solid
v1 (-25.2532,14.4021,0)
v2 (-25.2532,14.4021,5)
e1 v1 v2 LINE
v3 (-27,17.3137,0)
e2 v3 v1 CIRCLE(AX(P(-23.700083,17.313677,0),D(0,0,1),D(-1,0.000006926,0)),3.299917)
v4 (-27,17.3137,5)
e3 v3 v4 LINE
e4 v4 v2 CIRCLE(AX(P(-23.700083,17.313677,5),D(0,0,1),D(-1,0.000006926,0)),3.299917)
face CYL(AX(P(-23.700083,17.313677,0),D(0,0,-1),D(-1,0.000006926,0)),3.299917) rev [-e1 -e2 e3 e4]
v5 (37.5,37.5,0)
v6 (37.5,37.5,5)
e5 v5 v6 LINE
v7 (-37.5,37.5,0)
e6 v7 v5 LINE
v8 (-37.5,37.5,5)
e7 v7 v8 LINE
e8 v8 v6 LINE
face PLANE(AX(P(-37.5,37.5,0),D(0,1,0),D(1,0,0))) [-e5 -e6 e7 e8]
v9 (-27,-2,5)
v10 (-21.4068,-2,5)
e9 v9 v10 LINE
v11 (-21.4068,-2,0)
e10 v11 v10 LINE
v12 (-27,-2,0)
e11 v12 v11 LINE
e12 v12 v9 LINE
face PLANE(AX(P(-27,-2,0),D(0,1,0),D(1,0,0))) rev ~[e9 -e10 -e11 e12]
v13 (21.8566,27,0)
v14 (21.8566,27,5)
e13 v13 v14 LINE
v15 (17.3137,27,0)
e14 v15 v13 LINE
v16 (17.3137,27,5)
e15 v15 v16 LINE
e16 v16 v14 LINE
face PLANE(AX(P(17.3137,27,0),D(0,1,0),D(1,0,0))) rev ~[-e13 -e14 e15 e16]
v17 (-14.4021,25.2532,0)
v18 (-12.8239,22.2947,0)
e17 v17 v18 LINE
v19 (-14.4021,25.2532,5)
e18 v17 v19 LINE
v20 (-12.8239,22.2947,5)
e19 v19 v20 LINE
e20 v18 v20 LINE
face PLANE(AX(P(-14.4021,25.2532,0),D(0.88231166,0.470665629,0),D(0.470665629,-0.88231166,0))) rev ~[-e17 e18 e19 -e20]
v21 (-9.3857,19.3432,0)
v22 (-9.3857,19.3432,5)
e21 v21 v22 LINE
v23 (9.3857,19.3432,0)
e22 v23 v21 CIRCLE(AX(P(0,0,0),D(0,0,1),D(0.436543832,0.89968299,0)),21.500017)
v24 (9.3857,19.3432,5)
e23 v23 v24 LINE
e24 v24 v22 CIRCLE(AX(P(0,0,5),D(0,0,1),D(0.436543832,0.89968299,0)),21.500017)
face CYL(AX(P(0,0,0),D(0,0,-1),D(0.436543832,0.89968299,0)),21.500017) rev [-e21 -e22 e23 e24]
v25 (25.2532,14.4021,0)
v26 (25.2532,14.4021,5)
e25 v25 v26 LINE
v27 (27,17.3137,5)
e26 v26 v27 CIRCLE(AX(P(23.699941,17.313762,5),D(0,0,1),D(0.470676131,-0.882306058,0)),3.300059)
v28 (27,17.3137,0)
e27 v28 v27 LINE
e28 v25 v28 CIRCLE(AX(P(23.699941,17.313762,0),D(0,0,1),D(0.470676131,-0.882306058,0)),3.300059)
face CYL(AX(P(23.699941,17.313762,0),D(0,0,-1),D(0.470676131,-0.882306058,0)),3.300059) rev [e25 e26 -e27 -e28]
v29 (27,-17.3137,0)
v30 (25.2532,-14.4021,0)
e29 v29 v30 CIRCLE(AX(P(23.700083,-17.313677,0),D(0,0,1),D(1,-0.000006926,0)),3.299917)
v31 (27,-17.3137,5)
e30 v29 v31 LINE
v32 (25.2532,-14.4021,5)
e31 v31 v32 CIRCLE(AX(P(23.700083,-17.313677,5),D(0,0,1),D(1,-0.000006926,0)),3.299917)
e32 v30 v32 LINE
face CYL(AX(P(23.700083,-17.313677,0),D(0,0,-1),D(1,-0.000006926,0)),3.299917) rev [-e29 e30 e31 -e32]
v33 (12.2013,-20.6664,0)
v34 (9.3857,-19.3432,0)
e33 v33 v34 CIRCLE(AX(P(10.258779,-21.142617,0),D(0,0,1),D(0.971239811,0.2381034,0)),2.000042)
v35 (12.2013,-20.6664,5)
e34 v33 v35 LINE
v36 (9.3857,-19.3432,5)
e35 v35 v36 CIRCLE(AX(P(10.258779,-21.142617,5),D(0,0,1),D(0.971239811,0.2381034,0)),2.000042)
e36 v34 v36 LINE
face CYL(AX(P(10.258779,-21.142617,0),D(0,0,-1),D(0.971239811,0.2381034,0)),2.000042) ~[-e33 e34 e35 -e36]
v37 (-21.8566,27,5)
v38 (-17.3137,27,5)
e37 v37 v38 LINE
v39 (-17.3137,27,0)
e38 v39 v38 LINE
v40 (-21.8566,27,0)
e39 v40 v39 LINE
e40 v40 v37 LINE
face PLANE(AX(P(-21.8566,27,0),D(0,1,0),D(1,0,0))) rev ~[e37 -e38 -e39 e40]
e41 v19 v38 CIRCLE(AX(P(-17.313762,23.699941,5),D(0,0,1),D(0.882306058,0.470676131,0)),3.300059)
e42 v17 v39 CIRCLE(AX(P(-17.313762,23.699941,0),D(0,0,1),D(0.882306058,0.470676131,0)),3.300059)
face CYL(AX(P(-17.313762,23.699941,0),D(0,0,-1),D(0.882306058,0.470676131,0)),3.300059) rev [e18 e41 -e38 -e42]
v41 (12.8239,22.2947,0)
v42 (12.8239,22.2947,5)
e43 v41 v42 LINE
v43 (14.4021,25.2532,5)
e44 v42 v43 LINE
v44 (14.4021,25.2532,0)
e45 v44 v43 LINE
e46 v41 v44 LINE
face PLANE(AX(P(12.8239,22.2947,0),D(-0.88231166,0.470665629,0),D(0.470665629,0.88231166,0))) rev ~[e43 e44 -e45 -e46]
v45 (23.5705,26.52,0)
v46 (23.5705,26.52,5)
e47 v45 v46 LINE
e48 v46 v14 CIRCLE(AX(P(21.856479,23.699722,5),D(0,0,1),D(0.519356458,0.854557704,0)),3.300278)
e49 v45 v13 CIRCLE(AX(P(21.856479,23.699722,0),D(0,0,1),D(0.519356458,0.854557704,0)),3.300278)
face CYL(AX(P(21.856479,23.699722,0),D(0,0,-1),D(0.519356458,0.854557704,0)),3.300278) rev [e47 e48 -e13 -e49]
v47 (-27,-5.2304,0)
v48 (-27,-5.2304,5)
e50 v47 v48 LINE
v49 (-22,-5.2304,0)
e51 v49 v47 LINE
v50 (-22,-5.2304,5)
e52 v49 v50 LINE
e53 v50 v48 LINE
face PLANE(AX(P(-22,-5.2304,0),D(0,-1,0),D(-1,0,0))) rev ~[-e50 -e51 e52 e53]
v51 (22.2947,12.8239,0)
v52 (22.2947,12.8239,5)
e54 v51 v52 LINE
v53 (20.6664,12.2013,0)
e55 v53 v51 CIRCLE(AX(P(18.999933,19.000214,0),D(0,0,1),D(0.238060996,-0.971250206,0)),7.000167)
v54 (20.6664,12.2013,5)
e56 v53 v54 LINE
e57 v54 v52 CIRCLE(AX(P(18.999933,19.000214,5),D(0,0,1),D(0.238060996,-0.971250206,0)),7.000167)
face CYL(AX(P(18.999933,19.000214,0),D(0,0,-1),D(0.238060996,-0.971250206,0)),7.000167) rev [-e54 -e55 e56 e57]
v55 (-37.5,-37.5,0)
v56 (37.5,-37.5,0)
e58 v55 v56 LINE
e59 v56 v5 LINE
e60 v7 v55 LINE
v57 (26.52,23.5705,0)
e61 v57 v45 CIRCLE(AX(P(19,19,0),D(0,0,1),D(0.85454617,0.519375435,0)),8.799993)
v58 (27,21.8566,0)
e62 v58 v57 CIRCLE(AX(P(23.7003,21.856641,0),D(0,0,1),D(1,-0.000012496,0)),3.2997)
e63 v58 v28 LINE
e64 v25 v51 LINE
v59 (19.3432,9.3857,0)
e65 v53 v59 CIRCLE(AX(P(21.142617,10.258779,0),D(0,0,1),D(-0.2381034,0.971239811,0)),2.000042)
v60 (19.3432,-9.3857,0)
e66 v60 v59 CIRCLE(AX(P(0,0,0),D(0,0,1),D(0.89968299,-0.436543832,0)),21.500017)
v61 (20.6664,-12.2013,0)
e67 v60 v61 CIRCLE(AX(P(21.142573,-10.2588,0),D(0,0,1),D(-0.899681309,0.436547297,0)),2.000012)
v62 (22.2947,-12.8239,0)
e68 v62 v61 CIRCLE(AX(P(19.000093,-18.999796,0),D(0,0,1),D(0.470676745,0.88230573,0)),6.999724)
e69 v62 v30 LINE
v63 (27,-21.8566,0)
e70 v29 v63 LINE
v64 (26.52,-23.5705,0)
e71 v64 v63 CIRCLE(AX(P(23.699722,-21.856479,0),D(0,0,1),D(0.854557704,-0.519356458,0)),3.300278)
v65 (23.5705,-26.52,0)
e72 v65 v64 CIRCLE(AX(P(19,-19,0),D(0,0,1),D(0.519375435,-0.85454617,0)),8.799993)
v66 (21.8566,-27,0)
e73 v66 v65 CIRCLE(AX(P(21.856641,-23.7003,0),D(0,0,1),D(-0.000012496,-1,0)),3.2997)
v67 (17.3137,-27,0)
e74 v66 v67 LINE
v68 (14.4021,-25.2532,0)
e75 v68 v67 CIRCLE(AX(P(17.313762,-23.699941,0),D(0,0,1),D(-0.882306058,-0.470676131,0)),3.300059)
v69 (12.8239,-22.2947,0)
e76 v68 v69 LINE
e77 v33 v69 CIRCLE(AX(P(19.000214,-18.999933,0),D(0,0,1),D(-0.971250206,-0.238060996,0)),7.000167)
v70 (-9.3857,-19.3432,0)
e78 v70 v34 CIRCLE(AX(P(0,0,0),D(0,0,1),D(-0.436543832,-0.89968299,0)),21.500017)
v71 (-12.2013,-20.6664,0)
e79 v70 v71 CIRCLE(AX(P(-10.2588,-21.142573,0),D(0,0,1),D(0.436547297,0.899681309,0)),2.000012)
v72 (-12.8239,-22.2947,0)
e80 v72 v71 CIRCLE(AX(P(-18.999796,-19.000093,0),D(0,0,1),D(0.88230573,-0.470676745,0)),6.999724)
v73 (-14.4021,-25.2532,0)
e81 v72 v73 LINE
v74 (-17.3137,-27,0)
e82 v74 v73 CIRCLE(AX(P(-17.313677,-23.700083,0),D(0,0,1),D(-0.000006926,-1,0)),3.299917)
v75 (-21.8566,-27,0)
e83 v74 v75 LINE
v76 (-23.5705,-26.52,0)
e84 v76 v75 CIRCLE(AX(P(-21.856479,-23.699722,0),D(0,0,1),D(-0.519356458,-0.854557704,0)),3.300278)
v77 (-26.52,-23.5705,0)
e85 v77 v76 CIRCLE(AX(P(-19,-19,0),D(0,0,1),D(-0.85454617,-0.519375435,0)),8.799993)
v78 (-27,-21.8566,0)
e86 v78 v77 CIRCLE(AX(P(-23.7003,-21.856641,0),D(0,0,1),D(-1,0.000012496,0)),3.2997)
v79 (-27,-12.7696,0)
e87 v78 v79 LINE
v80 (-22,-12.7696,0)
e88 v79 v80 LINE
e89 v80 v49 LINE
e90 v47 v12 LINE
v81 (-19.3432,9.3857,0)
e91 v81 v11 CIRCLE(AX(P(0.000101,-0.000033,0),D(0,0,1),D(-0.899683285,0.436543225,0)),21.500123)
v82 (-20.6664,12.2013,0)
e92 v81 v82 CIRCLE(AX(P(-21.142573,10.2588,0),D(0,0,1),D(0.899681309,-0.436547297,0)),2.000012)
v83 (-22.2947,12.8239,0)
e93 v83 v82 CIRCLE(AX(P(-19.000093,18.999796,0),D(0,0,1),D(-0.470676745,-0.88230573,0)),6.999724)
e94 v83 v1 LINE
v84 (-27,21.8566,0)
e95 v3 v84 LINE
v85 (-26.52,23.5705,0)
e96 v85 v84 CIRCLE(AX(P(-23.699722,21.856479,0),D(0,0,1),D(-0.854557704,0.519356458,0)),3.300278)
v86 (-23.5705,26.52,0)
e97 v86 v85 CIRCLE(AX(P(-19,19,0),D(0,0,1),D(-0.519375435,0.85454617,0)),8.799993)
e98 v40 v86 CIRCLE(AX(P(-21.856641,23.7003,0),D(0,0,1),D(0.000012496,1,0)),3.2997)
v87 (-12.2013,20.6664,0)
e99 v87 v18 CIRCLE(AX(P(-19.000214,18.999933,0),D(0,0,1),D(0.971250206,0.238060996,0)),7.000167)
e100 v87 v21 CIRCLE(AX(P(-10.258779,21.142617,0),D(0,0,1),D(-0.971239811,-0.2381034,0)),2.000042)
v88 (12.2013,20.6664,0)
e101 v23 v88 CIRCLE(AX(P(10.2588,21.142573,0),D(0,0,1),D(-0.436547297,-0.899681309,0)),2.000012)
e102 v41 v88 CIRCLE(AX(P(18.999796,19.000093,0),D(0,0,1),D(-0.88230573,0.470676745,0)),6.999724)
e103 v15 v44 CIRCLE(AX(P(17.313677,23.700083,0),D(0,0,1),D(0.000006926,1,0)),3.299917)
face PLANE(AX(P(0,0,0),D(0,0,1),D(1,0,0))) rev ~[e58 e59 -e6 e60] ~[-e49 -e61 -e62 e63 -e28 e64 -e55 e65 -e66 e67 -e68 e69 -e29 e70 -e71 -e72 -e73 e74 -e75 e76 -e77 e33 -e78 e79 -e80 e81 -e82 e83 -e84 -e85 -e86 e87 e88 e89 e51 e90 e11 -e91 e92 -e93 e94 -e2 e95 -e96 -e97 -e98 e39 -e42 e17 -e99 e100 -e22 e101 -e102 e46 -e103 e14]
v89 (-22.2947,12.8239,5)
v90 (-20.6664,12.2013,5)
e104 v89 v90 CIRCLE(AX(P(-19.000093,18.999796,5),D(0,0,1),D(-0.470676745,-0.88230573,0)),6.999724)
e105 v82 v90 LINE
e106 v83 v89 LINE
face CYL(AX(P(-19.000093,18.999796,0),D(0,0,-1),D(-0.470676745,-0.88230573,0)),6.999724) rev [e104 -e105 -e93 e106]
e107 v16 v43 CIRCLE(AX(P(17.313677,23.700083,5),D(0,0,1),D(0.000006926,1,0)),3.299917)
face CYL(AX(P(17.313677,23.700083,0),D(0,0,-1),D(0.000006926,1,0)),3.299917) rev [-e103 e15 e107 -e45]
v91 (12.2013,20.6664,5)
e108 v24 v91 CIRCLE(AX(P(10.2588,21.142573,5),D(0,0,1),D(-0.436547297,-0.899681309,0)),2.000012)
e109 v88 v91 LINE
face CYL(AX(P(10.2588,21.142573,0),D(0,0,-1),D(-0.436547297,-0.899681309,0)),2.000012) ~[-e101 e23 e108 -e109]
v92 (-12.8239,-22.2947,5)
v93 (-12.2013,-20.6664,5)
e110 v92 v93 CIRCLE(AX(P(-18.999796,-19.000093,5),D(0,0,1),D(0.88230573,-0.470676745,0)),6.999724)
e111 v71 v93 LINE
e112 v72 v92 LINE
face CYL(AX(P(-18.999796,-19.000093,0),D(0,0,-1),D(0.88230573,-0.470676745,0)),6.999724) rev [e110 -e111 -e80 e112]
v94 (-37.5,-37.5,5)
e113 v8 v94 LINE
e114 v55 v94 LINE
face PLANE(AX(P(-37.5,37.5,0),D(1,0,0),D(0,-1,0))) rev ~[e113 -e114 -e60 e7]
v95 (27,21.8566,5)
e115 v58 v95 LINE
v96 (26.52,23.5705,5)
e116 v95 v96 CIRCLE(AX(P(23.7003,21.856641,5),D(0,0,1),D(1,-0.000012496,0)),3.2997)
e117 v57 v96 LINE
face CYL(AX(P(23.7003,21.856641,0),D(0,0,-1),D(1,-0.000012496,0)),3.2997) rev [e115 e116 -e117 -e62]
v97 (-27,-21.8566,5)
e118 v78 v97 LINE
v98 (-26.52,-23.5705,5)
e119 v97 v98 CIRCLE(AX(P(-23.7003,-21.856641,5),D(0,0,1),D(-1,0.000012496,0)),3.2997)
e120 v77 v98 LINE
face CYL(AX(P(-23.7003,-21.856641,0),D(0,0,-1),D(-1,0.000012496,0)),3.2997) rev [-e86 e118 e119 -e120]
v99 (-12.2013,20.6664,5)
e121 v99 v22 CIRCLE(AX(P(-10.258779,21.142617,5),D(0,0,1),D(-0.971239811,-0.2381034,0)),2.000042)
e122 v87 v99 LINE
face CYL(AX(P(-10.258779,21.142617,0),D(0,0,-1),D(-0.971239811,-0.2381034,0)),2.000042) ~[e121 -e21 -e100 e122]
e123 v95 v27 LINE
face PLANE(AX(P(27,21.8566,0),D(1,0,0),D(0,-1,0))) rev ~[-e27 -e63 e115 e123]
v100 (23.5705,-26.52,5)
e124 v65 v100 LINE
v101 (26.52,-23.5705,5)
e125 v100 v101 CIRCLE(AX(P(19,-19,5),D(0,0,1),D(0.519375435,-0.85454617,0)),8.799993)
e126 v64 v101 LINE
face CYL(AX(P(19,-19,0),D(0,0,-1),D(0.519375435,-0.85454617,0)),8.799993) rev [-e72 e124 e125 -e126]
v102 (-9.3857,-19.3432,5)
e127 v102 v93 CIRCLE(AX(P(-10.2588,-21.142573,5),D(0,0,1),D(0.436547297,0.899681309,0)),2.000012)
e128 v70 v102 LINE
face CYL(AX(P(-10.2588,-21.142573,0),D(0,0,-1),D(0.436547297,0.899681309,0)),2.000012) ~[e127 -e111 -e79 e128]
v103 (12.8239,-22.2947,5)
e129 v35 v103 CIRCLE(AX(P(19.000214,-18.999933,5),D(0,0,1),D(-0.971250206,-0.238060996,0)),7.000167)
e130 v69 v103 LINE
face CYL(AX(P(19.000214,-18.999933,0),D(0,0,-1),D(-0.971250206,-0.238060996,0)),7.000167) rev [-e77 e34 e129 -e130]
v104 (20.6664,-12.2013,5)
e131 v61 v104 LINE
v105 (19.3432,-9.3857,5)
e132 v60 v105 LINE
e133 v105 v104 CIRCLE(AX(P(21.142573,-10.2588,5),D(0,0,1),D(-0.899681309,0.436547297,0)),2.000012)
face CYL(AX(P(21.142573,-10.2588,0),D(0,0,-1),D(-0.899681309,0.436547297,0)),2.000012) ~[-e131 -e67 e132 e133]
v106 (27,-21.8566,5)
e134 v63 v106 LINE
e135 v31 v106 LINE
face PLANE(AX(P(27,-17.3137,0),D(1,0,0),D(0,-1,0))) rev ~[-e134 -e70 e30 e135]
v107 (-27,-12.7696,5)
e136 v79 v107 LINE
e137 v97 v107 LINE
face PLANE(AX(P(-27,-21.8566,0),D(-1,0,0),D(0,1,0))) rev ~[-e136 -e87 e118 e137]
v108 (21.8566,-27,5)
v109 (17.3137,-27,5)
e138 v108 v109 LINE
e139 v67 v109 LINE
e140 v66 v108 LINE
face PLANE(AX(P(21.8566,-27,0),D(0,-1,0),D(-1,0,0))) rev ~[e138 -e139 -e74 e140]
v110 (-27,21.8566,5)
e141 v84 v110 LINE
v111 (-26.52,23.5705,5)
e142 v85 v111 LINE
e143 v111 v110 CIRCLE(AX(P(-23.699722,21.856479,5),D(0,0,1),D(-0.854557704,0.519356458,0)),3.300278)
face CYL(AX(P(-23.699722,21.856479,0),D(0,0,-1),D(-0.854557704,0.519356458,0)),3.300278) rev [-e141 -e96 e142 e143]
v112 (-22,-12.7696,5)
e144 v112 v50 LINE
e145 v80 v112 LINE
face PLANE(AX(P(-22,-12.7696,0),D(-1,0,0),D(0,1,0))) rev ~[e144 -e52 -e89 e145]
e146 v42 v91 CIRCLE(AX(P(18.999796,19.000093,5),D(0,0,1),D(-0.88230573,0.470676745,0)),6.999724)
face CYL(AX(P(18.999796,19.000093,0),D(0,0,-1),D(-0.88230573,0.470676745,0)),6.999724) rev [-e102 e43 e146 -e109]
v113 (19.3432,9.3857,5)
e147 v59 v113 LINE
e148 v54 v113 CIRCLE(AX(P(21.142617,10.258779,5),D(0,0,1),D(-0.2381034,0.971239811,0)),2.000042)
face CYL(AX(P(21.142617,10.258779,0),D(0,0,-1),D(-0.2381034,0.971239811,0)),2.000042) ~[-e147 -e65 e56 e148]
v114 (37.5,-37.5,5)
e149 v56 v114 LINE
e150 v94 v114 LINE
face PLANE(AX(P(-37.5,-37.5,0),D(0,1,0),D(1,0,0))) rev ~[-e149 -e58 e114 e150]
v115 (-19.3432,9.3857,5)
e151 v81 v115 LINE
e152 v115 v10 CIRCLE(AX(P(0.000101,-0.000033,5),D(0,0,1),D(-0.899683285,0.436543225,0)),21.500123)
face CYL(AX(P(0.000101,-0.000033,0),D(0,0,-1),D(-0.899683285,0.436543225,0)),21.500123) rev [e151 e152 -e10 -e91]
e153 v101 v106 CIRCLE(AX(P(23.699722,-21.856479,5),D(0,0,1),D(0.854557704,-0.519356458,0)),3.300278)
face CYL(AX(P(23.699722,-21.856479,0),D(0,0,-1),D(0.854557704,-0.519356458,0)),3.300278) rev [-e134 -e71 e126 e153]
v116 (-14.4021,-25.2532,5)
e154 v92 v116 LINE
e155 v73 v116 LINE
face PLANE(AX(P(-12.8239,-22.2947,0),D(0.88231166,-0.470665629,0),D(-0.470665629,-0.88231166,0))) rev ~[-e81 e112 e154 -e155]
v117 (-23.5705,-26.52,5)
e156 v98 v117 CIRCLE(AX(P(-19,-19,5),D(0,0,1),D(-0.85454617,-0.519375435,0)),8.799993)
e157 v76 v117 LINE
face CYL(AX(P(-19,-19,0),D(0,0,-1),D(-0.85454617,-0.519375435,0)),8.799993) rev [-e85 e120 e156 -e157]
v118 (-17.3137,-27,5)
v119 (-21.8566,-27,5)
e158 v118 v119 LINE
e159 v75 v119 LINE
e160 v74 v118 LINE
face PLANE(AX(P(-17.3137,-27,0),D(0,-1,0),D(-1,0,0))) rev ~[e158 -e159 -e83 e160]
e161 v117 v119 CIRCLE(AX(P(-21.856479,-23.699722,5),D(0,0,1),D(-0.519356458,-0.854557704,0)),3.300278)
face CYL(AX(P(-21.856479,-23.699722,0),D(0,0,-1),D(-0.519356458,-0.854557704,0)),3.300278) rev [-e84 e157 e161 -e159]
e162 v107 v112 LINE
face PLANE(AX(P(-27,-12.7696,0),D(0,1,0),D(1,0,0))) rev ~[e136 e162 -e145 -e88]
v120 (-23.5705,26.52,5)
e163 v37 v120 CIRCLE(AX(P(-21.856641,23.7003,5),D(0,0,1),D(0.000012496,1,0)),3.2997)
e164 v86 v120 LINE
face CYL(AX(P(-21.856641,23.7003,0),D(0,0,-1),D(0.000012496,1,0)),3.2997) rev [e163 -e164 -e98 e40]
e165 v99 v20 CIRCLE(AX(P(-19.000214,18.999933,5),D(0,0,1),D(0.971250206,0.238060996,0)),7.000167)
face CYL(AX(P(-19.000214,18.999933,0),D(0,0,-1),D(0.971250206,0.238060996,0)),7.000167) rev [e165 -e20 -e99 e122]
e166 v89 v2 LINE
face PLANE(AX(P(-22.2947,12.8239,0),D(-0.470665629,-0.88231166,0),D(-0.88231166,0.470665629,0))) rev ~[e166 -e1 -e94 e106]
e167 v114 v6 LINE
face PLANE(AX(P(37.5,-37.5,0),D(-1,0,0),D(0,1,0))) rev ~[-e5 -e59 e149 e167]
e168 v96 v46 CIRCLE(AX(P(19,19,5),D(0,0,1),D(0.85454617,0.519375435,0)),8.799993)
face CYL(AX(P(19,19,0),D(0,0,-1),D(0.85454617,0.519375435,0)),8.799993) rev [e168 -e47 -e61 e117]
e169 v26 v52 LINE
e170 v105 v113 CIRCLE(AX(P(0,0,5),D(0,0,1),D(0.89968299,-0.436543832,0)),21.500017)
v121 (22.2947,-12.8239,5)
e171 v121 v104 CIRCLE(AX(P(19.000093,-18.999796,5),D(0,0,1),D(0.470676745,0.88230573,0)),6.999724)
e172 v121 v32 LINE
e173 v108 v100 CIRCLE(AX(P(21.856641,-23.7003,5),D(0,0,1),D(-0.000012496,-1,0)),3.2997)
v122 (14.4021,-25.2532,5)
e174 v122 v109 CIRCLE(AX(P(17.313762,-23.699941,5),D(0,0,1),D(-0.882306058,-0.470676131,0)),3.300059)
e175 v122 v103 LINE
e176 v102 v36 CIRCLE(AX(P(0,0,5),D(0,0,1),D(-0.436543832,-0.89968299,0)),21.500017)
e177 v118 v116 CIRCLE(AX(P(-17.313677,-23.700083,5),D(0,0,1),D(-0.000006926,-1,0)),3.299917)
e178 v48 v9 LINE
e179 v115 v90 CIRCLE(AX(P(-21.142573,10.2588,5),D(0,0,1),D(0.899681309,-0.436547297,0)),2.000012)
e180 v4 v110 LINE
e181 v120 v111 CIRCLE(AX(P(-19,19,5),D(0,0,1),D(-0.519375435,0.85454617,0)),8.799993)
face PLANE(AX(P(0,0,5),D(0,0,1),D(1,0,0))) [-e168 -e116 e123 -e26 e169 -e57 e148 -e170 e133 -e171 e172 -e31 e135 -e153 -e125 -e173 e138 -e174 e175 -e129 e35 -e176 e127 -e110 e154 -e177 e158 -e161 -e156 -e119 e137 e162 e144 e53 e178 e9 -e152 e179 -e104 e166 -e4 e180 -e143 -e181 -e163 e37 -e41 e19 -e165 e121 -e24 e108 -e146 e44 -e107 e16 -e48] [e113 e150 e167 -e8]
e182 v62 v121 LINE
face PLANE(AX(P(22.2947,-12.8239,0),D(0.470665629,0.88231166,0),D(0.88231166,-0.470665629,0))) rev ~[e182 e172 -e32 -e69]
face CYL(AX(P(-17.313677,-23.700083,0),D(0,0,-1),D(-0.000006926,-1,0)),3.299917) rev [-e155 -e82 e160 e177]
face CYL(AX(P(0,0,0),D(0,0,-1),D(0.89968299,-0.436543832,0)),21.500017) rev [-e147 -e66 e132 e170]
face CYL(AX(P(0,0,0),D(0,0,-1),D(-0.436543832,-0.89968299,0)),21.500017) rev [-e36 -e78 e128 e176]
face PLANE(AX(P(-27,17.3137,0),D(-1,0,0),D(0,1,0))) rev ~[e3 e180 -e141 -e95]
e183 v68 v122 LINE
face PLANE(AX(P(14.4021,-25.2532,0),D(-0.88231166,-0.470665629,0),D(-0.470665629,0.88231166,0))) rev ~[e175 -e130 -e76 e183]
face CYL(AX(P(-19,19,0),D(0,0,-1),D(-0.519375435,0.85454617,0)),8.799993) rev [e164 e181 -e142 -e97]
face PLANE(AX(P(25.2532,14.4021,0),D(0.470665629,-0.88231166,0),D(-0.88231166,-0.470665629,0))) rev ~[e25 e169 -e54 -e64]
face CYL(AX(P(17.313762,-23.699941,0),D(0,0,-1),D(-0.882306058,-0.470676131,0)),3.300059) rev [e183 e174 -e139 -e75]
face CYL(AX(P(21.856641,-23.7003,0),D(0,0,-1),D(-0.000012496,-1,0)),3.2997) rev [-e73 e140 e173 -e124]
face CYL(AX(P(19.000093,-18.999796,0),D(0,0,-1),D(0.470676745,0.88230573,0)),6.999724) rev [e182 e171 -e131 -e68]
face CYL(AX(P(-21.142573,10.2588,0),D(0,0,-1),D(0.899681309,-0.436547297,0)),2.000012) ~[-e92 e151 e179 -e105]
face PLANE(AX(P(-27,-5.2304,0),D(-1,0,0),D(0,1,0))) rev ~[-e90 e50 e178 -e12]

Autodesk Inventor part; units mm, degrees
ref_plane "YZ Plane" through (0, 0, 0) normal (1, 0, 0) x (0, 1, 0)
ref_plane "XZ Plane" through (0, 0, 0) normal (0, 1, 0) x (-1, 0, 0)
ref_plane "XY Plane" through (0, 0, 0) normal (0, 0, 1) x (1, 0, 0)
ref_plane "Work Plane1" through (0, 0, 0) normal (0, 0, 1) x (1, 0, 0)
sketch "Sketch1" plane through (0, 0, 0) normal (0, 0, 1) x (1, 0, 0)
  circle A0 centre (0, 0) radius 8
  arc A1 (-21.8566, 27) -> (-23.5705, 26.52) centre (-21.8566, 23.7) ccw
  line L0 (-21.8566, 27) -> (-17.3137, 27)
  arc A2 (-14.4021, 25.2532) -> (-17.3137, 27) centre (-17.3137, 23.7) ccw
  line L1 (-14.4021, 25.2532) -> (-12.8239, 22.2947)
  arc A3 (-12.2013, 20.6664) -> (-12.8239, 22.2947) centre (-19, 19) ccw
  arc A4 (-12.2013, 20.6664) -> (-9.3857, 19.3432) centre (-10.2588, 21.1426) ccw
  arc A5 (9.3857, 19.3432) -> (-9.3857, 19.3432) centre (0, 0) ccw
  arc A6 (9.3857, 19.3432) -> (12.2013, 20.6664) centre (10.2588, 21.1426) ccw
  arc A7 (12.8239, 22.2947) -> (12.2013, 20.6664) centre (19, 19) ccw
  line L2 (12.8239, 22.2947) -> (14.4021, 25.2532)
  arc A8 (17.3137, 27) -> (14.4021, 25.2532) centre (17.3137, 23.7) ccw
  line L3 (17.3137, 27) -> (21.8566, 27)
  arc A9 (23.5705, 26.52) -> (21.8566, 27) centre (21.8566, 23.7) ccw
  arc A10 (26.52, 23.5705) -> (23.5705, 26.52) centre (19, 19) ccw
  arc A11 (27, 21.8566) -> (26.52, 23.5705) centre (23.7, 21.8566) ccw
  line L4 (27, 21.8566) -> (27, 17.3137)
  arc A12 (25.2532, 14.4021) -> (27, 17.3137) centre (23.7, 17.3137) ccw
  line L5 (25.2532, 14.4021) -> (22.2947, 12.8239)
  arc A13 (20.6664, 12.2013) -> (22.2947, 12.8239) centre (19, 19) ccw
  arc A14 (20.6664, 12.2013) -> (19.3432, 9.3857) centre (21.1426, 10.2588) ccw
  arc A15 (19.3432, -9.3857) -> (19.3432, 9.3857) centre (0, 0) ccw
  arc A16 (19.3432, -9.3857) -> (20.6664, -12.2013) centre (21.1426, -10.2588) ccw
  arc A17 (22.2947, -12.8239) -> (20.6664, -12.2013) centre (19, -19) ccw
  line L6 (22.2947, -12.8239) -> (25.2532, -14.4021)
  arc A18 (27, -17.3137) -> (25.2532, -14.4021) centre (23.7, -17.3137) ccw
  line L7 (27, -17.3137) -> (27, -21.8566)
  arc A19 (26.52, -23.5705) -> (27, -21.8566) centre (23.7, -21.8566) ccw
  arc A20 (23.5705, -26.52) -> (26.52, -23.5705) centre (19, -19) ccw
  arc A21 (21.8566, -27) -> (23.5705, -26.52) centre (21.8566, -23.7) ccw
  line L8 (21.8566, -27) -> (17.3137, -27)
  arc A22 (14.4021, -25.2532) -> (17.3137, -27) centre (17.3137, -23.7) ccw
  line L9 (14.4021, -25.2532) -> (12.8239, -22.2947)
  arc A23 (12.2013, -20.6664) -> (12.8239, -22.2947) centre (19, -19) ccw
  arc A24 (12.2013, -20.6664) -> (9.3857, -19.3432) centre (10.2588, -21.1426) ccw
  arc A25 (-9.3857, -19.3432) -> (9.3857, -19.3432) centre (0, 0) ccw
  arc A26 (-9.3857, -19.3432) -> (-12.2013, -20.6664) centre (-10.2588, -21.1426) ccw
  arc A27 (-12.8239, -22.2947) -> (-12.2013, -20.6664) centre (-19, -19) ccw
  line L10 (-12.8239, -22.2947) -> (-14.4021, -25.2532)
  arc A28 (-17.3137, -27) -> (-14.4021, -25.2532) centre (-17.3137, -23.7) ccw
  line L11 (-17.3137, -27) -> (-21.8566, -27)
  arc A29 (-23.5705, -26.52) -> (-21.8566, -27) centre (-21.8566, -23.7) ccw
  arc A30 (-26.52, -23.5705) -> (-23.5705, -26.52) centre (-19, -19) ccw
  arc A31 (-27, -21.8566) -> (-26.52, -23.5705) centre (-23.7, -21.8566) ccw
  line L12 (-27, -21.8566) -> (-27, -12.7696)
  line L13 (-27, -12.7696) -> (-22, -12.7696)
  line L14 (-22, -12.7696) -> (-22, -5.2304)
  line L15 (-22, -5.2304) -> (-27, -5.2304)
  line L16 (-27, -5.2304) -> (-27, -2)
  line L17 (-27, -2) -> (-21.4068, -2)
  arc A32 (-19.3432, 9.3857) -> (-21.4068, -2) centre (0, 0) ccw
  arc A33 (-19.3432, 9.3857) -> (-20.6664, 12.2013) centre (-21.1426, 10.2588) ccw
  arc A34 (-22.2947, 12.8239) -> (-20.6664, 12.2013) centre (-19, 19) ccw
  line L18 (-22.2947, 12.8239) -> (-25.2532, 14.4021)
  arc A35 (-27, 17.3137) -> (-25.2532, 14.4021) centre (-23.7, 17.3137) ccw
  line L19 (-27, 17.3137) -> (-27, 21.8566)
  arc A36 (-26.52, 23.5705) -> (-27, 21.8566) centre (-23.7, 21.8566) ccw
  arc A37 (-23.5705, 26.52) -> (-26.52, 23.5705) centre (-19, 19) ccw
  line L20 (42.5, 37.5) -> (42.5, -37.5)
  line L21 (42.5, -37.5) -> (37.5, -37.5)
  line L22 (37.5, -37.5) -> (37.5, 37.5)
  line L23 (37.5, 37.5) -> (42.5, 37.5)
  line L24 (-42.5, -37.5) -> (-42.5, 37.5)
  line L25 (-42.5, 37.5) -> (-37.5, 37.5)
  line L26 (-37.5, 37.5) -> (-37.5, -37.5)
  line L27 (-37.5, -37.5) -> (-42.5, -37.5)
  line L28 (-37.5, -37.5) -> (37.5, -37.5)
  line L29 (-37.5, 37.5) -> (37.5, 37.5)
  point P0 (0, 0)
extrude "Extrusion1" add sketch "Sketch1" along normal blind 5 contours L22 L28 L26 L29
properties part number "Soporte Cilindro Cortadora"
